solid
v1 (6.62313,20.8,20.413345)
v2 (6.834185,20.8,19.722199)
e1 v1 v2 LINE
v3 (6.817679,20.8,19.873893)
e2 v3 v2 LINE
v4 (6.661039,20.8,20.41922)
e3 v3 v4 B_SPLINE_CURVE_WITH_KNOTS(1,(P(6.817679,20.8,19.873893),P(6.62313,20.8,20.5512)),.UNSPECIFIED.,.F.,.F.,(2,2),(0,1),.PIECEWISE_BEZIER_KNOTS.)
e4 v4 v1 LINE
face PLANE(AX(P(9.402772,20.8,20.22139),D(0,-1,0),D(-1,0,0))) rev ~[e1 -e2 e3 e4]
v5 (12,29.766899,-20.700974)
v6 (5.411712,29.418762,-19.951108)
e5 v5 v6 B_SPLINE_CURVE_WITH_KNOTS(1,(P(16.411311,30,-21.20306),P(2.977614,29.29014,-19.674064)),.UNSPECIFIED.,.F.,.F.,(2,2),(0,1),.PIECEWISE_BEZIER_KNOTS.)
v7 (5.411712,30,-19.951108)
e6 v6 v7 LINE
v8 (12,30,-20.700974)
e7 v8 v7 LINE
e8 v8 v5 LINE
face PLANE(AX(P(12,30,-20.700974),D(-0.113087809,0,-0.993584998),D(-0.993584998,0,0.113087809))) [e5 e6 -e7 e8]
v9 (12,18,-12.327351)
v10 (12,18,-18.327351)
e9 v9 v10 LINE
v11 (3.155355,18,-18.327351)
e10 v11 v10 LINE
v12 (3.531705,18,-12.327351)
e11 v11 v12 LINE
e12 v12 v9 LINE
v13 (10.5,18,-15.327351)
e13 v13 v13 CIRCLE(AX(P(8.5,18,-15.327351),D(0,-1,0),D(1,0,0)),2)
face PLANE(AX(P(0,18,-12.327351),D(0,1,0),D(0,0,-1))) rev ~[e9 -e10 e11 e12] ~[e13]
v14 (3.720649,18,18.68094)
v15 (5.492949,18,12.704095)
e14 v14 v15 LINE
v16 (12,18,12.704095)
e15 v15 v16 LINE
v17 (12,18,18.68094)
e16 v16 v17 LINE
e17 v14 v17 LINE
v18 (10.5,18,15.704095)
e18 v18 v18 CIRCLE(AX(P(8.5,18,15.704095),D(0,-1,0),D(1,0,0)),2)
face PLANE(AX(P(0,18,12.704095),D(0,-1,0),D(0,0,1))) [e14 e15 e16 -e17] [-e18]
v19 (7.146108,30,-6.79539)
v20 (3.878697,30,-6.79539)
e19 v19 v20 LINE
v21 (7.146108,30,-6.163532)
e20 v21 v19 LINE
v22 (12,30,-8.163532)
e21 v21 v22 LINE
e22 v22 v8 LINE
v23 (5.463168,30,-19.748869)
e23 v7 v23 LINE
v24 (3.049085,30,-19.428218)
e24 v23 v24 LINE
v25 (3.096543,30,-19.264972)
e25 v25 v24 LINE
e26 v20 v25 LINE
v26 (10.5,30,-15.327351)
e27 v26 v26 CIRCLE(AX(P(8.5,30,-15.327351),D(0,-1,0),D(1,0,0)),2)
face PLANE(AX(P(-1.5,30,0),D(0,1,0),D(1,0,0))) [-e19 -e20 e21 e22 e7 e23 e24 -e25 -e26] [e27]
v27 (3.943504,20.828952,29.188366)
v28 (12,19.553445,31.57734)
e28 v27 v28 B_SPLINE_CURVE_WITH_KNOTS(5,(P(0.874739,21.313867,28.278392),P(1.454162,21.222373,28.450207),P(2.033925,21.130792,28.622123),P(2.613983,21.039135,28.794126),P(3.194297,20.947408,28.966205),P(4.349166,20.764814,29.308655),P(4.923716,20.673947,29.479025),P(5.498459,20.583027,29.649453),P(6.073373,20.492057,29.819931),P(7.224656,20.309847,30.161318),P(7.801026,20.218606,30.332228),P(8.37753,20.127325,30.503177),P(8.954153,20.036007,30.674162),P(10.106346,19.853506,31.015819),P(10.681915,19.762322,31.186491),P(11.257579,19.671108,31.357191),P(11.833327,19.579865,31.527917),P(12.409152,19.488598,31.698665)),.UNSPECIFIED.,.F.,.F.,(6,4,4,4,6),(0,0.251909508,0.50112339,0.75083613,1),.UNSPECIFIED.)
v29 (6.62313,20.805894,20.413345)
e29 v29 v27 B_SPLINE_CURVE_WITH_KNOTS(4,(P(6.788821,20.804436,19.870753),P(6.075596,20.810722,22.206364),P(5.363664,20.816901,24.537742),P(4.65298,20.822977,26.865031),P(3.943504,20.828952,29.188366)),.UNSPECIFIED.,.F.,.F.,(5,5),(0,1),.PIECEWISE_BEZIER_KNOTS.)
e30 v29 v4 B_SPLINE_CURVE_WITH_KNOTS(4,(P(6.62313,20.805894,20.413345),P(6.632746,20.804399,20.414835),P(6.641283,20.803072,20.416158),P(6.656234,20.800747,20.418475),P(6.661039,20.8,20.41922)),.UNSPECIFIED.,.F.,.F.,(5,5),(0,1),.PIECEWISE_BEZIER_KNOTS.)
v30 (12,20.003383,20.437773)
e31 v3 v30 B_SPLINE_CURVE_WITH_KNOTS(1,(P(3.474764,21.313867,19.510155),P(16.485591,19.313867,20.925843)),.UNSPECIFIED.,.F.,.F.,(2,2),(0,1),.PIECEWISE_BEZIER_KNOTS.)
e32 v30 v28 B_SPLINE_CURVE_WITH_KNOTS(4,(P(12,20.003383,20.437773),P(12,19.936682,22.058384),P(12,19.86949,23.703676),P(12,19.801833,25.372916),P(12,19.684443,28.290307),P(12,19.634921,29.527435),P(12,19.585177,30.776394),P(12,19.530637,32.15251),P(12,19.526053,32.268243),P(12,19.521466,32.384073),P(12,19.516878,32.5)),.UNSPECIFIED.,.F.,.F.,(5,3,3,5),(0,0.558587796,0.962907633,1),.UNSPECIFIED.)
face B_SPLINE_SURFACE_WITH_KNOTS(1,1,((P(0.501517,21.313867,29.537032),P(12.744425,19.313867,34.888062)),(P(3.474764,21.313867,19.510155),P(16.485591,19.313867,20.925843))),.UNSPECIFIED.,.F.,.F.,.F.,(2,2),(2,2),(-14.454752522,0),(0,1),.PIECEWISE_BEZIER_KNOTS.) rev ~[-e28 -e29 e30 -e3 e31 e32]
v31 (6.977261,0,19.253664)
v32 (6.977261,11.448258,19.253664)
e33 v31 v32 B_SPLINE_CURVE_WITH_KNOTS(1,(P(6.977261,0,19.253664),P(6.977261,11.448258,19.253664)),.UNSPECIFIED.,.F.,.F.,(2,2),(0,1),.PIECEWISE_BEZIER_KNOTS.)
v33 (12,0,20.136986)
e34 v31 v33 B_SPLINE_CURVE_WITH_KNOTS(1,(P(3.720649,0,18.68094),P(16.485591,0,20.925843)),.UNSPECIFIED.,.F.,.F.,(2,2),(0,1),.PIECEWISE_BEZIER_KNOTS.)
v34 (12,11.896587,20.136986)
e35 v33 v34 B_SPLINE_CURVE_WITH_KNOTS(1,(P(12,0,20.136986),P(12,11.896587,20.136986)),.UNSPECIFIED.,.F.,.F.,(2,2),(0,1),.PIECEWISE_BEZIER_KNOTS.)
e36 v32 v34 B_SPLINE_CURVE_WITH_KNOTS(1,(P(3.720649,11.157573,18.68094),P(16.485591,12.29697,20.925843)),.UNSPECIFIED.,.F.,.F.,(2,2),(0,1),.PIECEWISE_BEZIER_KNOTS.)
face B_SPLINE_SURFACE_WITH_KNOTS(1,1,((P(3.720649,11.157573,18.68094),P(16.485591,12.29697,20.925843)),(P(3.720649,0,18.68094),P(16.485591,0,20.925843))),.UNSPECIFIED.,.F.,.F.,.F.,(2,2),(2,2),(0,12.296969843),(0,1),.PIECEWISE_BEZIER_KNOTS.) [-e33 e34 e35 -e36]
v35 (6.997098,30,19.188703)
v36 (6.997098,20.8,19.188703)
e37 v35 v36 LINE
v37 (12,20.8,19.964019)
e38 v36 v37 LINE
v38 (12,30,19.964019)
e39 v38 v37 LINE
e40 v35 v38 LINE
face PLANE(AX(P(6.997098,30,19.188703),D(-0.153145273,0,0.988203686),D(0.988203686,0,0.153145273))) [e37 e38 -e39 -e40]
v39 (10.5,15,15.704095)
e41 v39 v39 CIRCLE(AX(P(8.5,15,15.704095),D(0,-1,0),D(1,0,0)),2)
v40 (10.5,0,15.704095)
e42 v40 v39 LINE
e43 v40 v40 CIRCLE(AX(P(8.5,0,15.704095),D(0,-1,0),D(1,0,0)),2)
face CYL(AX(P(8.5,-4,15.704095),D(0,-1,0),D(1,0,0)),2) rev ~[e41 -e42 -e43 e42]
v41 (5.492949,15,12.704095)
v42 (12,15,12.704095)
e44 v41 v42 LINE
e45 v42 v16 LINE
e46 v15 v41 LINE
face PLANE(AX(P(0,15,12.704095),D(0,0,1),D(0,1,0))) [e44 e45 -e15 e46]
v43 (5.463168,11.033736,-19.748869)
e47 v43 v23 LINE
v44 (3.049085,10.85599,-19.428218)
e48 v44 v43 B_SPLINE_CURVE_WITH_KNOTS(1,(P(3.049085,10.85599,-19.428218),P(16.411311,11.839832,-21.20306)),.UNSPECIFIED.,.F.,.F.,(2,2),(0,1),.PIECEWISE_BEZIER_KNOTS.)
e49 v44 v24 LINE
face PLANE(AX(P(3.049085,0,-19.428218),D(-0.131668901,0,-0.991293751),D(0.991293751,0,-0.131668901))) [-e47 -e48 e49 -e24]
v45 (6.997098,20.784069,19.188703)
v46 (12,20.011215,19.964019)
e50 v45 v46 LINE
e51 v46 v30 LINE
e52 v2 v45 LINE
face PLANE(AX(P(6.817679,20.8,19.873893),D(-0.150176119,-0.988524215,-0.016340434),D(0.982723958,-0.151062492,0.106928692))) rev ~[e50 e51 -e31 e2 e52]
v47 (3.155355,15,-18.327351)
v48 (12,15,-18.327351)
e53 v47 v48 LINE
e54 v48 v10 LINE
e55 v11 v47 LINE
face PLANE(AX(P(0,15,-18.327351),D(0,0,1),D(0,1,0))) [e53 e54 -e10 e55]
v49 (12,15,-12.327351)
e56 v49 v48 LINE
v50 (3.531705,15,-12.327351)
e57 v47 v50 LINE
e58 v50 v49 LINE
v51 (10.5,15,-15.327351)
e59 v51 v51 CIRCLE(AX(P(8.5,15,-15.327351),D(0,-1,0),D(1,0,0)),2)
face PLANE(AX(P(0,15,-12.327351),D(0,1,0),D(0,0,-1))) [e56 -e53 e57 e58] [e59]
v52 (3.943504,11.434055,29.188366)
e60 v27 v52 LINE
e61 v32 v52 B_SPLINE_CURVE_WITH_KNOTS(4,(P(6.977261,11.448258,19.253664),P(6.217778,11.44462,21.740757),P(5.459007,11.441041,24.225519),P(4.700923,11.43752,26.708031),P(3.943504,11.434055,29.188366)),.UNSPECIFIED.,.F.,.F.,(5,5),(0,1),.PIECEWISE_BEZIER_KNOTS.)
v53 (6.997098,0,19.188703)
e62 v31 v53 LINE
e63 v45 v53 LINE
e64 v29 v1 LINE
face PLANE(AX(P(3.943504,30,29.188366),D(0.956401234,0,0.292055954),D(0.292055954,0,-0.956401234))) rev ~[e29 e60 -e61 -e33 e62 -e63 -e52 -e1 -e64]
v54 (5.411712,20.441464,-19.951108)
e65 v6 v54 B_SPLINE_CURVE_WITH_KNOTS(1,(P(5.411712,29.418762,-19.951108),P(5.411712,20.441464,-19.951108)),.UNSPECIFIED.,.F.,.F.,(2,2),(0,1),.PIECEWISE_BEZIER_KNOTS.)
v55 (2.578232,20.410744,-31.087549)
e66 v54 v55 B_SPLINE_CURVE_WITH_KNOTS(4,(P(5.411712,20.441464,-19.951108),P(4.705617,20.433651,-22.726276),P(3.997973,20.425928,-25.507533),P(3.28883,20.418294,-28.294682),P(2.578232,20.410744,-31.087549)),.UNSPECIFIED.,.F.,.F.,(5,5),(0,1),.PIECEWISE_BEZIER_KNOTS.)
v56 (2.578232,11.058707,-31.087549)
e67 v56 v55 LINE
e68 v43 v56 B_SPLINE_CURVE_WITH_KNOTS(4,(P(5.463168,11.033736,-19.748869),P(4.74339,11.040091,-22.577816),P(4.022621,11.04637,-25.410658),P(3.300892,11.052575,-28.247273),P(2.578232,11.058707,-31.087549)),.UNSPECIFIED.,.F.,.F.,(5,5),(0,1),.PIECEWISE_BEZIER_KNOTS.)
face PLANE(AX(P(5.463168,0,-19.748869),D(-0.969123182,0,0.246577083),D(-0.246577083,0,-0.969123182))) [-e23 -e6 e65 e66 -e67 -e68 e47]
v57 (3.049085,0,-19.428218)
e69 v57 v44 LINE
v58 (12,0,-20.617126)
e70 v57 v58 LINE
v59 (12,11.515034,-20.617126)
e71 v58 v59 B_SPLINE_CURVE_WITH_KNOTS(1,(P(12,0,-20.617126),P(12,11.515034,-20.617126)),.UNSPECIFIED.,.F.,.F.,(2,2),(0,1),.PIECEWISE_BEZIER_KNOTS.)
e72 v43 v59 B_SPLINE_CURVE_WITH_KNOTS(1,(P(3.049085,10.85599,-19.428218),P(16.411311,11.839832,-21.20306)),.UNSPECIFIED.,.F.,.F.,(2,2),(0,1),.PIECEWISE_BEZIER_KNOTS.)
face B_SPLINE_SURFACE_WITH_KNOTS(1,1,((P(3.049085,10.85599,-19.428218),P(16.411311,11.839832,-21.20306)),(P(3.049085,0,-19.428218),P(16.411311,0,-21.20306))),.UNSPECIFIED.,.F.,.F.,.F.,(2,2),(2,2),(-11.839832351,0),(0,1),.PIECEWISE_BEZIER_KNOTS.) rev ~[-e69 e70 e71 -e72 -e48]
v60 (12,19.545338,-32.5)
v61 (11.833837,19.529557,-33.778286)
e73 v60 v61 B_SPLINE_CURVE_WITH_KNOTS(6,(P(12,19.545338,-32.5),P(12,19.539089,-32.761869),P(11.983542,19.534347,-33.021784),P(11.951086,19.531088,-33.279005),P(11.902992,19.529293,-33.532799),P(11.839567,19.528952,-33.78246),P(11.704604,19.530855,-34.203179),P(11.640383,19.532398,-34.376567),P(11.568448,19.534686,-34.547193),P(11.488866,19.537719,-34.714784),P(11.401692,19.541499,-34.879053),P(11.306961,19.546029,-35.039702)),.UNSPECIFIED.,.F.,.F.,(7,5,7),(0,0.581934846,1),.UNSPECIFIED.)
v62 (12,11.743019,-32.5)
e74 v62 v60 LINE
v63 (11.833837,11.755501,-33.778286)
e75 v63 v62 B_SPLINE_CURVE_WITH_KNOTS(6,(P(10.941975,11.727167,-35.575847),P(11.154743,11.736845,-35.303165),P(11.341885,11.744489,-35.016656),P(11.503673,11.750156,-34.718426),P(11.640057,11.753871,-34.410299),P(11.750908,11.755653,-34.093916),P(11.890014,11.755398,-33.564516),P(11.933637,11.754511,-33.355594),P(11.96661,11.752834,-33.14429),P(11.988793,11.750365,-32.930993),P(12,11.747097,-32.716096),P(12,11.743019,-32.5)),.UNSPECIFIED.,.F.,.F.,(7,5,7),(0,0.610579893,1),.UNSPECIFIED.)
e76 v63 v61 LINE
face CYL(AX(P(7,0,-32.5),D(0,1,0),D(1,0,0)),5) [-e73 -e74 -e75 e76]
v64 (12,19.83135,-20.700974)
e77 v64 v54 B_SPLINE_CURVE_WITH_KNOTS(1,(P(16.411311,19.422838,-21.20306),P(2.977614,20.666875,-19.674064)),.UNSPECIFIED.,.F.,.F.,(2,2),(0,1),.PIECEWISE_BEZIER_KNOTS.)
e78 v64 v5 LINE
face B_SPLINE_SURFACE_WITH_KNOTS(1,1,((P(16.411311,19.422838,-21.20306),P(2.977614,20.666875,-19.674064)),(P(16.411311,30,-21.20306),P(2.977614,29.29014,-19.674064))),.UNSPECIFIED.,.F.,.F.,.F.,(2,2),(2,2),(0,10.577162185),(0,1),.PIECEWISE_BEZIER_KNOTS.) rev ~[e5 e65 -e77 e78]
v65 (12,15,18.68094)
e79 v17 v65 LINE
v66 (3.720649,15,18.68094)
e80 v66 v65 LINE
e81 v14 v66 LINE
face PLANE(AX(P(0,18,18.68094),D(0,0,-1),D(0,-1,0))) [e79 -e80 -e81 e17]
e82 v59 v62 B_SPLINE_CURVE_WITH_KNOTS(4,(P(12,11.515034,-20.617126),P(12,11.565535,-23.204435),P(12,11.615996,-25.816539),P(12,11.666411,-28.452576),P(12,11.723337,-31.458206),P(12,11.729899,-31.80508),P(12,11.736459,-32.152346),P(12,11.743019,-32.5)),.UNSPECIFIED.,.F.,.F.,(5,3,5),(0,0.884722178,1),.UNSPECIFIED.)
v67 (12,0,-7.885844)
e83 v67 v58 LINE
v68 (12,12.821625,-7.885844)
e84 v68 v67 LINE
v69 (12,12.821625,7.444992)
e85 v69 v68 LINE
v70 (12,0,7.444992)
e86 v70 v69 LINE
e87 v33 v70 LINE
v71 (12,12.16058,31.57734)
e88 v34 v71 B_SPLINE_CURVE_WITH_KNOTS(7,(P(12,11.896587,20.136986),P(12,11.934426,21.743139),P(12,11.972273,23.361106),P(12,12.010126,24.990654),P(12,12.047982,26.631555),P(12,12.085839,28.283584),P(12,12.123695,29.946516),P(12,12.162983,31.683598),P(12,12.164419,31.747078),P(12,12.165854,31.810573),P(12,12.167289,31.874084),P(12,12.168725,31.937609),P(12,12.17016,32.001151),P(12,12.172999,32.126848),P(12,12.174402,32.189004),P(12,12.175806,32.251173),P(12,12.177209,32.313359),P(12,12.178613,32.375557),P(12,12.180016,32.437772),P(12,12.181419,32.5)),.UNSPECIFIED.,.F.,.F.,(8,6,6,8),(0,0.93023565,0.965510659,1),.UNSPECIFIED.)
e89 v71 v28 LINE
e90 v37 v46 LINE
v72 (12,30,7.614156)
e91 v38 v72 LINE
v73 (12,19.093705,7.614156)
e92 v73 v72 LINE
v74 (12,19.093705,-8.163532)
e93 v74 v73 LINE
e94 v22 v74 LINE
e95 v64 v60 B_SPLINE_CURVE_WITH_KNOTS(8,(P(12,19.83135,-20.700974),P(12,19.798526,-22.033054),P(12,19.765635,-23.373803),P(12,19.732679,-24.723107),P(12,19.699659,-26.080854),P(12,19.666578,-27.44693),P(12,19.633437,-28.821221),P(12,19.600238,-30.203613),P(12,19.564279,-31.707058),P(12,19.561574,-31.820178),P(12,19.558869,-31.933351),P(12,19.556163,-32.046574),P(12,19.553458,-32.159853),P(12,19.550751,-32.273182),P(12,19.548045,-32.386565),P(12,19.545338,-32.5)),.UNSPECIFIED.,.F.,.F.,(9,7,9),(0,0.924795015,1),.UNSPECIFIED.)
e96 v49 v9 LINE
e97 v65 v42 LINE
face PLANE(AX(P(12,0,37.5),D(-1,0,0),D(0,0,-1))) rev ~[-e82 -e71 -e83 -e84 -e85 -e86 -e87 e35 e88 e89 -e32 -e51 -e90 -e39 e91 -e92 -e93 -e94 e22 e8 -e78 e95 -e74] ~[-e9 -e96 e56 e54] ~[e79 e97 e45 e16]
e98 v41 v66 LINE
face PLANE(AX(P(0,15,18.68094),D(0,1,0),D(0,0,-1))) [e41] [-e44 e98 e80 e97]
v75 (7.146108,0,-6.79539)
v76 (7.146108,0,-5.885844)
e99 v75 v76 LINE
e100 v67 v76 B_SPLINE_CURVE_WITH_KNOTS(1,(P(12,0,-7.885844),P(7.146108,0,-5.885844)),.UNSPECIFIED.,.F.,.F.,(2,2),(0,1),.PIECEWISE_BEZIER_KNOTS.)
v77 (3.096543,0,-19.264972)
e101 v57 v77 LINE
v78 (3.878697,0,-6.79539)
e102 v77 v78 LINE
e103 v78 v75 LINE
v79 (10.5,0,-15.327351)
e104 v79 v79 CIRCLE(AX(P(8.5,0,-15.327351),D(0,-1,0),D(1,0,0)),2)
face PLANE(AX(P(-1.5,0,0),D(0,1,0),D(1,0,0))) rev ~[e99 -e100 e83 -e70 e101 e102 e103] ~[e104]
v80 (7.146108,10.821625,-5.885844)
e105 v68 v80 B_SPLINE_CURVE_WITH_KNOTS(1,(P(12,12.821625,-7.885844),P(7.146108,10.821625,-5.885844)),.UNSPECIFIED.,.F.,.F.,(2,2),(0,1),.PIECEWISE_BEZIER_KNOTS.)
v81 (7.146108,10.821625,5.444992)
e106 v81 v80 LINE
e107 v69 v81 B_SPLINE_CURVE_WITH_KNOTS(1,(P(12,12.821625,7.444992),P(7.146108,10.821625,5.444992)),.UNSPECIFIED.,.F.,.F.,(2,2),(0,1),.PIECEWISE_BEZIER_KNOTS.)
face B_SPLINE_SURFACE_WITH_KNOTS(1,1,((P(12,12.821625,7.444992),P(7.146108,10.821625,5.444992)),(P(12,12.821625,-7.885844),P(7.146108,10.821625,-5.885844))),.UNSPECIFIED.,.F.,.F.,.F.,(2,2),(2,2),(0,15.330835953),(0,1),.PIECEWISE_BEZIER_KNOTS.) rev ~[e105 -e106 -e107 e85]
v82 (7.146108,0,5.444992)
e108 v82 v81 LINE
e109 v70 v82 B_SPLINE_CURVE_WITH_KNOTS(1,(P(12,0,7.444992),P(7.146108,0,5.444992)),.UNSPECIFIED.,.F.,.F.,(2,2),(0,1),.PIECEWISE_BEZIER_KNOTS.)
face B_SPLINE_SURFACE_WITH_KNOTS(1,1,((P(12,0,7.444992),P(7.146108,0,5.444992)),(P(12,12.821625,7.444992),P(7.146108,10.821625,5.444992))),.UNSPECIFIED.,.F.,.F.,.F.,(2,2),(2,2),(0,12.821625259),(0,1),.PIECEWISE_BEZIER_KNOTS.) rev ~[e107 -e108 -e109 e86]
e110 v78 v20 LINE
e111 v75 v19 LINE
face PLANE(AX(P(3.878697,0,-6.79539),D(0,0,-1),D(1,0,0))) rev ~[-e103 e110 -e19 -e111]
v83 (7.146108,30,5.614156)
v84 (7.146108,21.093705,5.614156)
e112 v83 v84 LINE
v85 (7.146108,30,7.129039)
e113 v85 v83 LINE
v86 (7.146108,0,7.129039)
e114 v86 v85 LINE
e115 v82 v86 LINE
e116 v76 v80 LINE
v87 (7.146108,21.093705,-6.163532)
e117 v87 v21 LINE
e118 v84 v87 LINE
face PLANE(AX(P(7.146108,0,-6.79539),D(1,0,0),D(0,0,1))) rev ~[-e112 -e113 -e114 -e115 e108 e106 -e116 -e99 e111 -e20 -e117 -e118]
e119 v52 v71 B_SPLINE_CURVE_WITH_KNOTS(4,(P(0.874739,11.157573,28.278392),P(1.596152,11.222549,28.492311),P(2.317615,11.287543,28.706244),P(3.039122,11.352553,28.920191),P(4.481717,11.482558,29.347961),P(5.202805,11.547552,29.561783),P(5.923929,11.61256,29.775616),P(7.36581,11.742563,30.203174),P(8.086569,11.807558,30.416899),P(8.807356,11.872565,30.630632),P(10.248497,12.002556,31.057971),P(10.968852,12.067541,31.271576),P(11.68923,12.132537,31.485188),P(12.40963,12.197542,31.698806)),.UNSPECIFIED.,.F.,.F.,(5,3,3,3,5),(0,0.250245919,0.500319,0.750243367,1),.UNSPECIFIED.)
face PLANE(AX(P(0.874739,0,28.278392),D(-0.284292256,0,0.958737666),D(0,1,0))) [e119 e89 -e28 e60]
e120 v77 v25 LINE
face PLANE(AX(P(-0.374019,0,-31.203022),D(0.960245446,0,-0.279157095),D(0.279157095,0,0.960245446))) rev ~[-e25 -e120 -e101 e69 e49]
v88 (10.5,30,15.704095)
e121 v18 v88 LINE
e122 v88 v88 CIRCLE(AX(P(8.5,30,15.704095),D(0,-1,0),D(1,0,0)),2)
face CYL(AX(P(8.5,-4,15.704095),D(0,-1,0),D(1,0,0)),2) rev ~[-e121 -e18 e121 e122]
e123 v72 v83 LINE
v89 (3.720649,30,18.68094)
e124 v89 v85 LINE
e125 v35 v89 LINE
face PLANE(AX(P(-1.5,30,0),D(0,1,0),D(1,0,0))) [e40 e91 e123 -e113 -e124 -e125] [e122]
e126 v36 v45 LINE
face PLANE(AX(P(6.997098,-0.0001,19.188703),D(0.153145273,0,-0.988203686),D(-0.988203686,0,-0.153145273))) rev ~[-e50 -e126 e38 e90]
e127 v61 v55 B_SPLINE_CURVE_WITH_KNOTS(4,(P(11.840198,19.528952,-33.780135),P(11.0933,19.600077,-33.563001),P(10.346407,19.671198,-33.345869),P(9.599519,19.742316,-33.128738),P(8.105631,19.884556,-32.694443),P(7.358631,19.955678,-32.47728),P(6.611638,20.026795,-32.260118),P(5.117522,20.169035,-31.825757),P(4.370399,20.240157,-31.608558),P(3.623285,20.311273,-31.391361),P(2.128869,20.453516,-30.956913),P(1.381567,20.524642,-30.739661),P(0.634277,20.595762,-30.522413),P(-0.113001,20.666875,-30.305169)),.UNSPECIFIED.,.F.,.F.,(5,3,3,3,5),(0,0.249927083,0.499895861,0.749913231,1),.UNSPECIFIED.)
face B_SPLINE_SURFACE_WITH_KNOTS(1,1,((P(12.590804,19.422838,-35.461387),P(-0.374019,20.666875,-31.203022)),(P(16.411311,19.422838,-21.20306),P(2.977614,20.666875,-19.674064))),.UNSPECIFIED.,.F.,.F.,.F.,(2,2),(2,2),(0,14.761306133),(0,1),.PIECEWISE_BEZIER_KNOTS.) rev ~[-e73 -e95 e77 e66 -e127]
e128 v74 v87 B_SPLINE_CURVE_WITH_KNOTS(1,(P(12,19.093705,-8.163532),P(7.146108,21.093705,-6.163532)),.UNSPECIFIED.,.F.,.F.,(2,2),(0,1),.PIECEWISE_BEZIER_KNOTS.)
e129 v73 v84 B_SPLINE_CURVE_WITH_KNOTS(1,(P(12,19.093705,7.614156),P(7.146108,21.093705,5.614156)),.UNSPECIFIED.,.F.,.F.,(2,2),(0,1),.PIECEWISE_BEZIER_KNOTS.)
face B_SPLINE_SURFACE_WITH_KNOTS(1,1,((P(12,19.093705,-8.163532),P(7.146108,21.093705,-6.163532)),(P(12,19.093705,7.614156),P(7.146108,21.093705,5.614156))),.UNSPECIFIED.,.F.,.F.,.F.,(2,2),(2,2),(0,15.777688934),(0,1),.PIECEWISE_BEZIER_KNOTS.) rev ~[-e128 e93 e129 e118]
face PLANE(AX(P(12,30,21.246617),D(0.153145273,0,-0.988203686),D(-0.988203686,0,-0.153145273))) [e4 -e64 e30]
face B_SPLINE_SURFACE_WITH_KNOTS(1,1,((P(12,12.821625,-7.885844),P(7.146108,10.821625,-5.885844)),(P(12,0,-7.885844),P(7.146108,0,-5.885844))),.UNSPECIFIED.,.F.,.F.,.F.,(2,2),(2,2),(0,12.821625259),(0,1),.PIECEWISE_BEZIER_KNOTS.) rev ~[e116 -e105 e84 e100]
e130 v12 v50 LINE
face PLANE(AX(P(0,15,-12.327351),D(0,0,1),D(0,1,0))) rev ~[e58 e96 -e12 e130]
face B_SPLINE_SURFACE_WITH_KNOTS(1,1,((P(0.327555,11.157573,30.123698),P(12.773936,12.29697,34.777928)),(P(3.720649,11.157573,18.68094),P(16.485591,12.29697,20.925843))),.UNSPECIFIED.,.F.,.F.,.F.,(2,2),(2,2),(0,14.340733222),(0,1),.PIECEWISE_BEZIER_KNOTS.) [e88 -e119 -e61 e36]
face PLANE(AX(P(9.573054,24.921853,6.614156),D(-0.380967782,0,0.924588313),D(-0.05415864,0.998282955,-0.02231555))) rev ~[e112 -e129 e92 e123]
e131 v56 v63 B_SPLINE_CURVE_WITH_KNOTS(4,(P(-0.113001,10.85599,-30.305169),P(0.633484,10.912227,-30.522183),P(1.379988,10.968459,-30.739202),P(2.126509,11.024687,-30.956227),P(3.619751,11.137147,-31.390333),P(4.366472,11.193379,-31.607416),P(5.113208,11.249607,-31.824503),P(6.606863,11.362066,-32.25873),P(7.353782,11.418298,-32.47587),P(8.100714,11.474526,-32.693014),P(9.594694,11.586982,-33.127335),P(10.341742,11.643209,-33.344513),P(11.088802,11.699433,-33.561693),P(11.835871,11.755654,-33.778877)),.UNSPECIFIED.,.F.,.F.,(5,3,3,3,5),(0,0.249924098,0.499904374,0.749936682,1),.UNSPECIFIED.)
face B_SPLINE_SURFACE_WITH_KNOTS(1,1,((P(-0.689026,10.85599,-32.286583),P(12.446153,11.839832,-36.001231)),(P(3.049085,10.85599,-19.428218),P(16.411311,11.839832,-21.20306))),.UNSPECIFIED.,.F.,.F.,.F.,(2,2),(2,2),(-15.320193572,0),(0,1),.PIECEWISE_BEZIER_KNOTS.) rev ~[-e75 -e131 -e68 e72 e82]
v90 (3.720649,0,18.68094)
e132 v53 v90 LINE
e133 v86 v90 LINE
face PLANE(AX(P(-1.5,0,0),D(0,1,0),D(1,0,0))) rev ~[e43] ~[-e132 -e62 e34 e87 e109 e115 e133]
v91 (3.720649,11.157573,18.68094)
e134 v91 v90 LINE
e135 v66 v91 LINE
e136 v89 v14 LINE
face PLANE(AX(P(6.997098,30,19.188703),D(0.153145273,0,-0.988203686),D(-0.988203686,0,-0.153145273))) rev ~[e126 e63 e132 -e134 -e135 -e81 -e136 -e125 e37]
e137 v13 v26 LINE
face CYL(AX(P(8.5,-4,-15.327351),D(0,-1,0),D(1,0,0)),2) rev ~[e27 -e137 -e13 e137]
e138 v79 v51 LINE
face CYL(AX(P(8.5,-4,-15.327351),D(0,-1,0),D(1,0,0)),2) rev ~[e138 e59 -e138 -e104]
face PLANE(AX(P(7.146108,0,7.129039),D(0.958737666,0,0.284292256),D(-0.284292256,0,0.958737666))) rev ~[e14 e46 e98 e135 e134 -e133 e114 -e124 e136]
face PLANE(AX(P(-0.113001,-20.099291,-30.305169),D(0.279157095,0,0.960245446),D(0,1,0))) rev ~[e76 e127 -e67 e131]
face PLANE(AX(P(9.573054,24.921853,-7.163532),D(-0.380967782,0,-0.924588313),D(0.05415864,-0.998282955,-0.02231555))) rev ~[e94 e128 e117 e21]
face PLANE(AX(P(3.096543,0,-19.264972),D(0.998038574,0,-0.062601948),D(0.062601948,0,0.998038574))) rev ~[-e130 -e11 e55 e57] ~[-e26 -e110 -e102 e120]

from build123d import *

# Parameters (mm, degrees)
SKETCH_2_W               = 27
SKETCH_2_H               = 75
EXTRUDE_1_DEPTH          = 30
FILLET_1_R               = 5
CUT_EXTRUDE_1_DEPTH      = 10
CUT_EXTRUDE_1_DEPTH_BACK = 62.976777909
SKETCH_3_W               = 12.003584996
SKETCH_3_H               = 8.623265084
SKETCH_3_W_2             = 13.38824361
SKETCH_3_H_2             = 10.855989936
CUT_EXTRUDE_2_DEPTH      = 56.093103017
CUT_EXTRUDE_2_DEPTH_BACK = 56.093103017
SKETCH_4_W               = 11.777688934
SKETCH_4_H               = 8.406294685
SKETCH_4_W_2             = 11.330835953
SKETCH_4_H_2             = 19.308390714
CUT_EXTRUDE_3_DEPTH      = 10
CUT_EXTRUDE_3_DEPTH_BACK = 62.976777909
SKETCH_5_W               = 10.454752522
SKETCH_5_H               = 7.917134022
SKETCH_5_W_2             = 10.247562273
SKETCH_5_H_2             = 14.675567582
CUT_EXTRUDE_4_DEPTH      = 51.311529494
CUT_EXTRUDE_5_DEPTH      = 1
CUT_EXTRUDE_6_DEPTH      = 56.093103188
CUT_EXTRUDE_6_DEPTH_BACK = 56.093103188
CUT_EXTRUDE_7_DEPTH      = 56.093103188
CUT_EXTRUDE_7_DEPTH_BACK = 56.093103188
SKETCH_28_R              = 2
CUT_EXTRUDE_8_DEPTH      = 53.794412747
CUT_EXTRUDE_9_DEPTH      = 51.311529658
SKETCH_30_W              = 10.059160286
SKETCH_30_H              = 37.902915959
SKETCH_30_W_2            = 15.489849721
SKETCH_30_H_2            = 38.902668553
CUT_EXTRUDE_10_DEPTH     = 51.038113138
SKETCH_31_W              = 8.737975265
SKETCH_31_H              = 34.755902135
SKETCH_31_W_2            = 10.96580713
CUT_EXTRUDE_11_DEPTH     = 49.583503796
CUT_EXTRUDE_12_DEPTH     = 50.524399755
CUT_EXTRUDE_13_DEPTH     = 48.916784232
SKETCH_35_W              = 30.266892165
SKETCH_35_H              = 64.418514712
CUT_EXTRUDE_14_DEPTH     = 49.293556396
SKETCH_36_W              = 14.582556354
SKETCH_36_H              = 32.207236855
CUT_EXTRUDE_15_DEPTH     = 49.026638847
CUT_EXTRUDE_16_DEPTH     = 47.743690696
CUT_EXTRUDE_17_DEPTH     = 47.743690696
CUT_EXTRUDE_19_DEPTH     = 9.2
CUT_EXTRUDE_20_REACH     = 64.237
CUT_EXTRUDE_21_REACH     = 48.744
SKETCH_41_W              = 6
SKETCH_41_H              = 3


with BuildPart() as part:
    # 草图2 → 凸台-拉伸1 (new body)
    with BuildSketch(Plane(origin=(0, 0, 0), x_dir=(1, 0, 0), z_dir=(0, 1, 0))):
        with Locations((-1.5, 0)):
            Rectangle(SKETCH_2_W, SKETCH_2_H)
    extrude(amount=EXTRUDE_1_DEPTH)

    # 圆角1
    fillet_1_edges = [part.edges().sort_by_distance(p)[0] for p in [
        (12, 15, -37.5),
        (12, 15, 37.5),
    ]]
    fillet(fillet_1_edges, radius=FILLET_1_R)

    # 草图3 → 切除-拉伸1 (cut, two sides: drawn at the far end of the back side and taken through both)
    with BuildSketch(Plane(origin=(18.680874692, 0, -5.005525288), x_dir=(-0.2588190451025125, 0, -0.9659258262890705), z_dir=(0.9659258262890705, 0, -0.2588190451025125)).offset(-CUT_EXTRUDE_1_DEPTH_BACK)):
        with Locations((24.234815862, 24.978507534)):
            Rectangle(SKETCH_3_W, SKETCH_3_H)
        with Locations((24.671178169, 5.427994968)):
            Rectangle(SKETCH_3_W_2, SKETCH_3_H_2)
    extrude(amount=CUT_EXTRUDE_1_DEPTH + CUT_EXTRUDE_1_DEPTH_BACK, mode=Mode.SUBTRACT)

    # 草图4 → 切除-拉伸2 (cut, two sides: drawn at the far end of the back side and taken through both)
    with BuildSketch(Plane(origin=(12, 0, 0), x_dir=(0, 0, -1), z_dir=(1, 0, 0)).offset(-CUT_EXTRUDE_2_DEPTH_BACK)):
        with Locations((0.274688021, 25.296852658)):
            Rectangle(SKETCH_4_W, SKETCH_4_H)
        with Locations((0.220425577, 1.167429902)):
            Rectangle(SKETCH_4_W_2, SKETCH_4_H_2)
    extrude(amount=CUT_EXTRUDE_2_DEPTH + CUT_EXTRUDE_2_DEPTH_BACK, mode=Mode.SUBTRACT)

    # 草图5 → 切除-拉伸3 (cut, two sides: drawn at the far end of the back side and taken through both)
    with BuildSketch(Plane(origin=(18.680874692, 0, 5.005525288), x_dir=(0.25881904510251236, 0, -0.9659258262890705), z_dir=(0.9659258262890706, 0, 0.25881904510251236)).offset(-CUT_EXTRUDE_3_DEPTH_BACK)):
        with Locations((-23.173403852, 25.272433697)):
            Rectangle(SKETCH_5_W, SKETCH_5_H)
        with Locations((-23.069808728, 2.959186052)):
            Rectangle(SKETCH_5_W_2, SKETCH_5_H_2)
    extrude(amount=CUT_EXTRUDE_3_DEPTH + CUT_EXTRUDE_3_DEPTH_BACK, mode=Mode.SUBTRACT)

    # 草图6 → 切除-拉伸4 (cut, through all)
    with BuildSketch(Plane.XZ):
        Polygon((7.146107594, 7.129038799), (3.725036618, 18.666143782), (-0.059848724, 31.430164127), (-15, 28.234595706), (-15, -49.974737356), (-6.027187149, -52.37103324), (-0.374019248, -31.203022256), (3.096542815, -19.264972049), (3.878697096, -6.795389704), (7.146107594, -6.795389704), align=None)
    extrude(amount=-CUT_EXTRUDE_4_DEPTH, mode=Mode.SUBTRACT)

    # 草图9 → 切除-放样2 section 0
    with BuildSketch(Plane(origin=(20.612726345, 0, -5.523163378), x_dir=(-0.2588190451025125, 0, -0.9659258262890705), z_dir=(0.9659258262890705, 0, -0.2588190451025125))):
        with BuildLine():
            Line((30.994329497, 19.422837815), (16.233023364, 19.422837815))
            Line((16.233023364, 19.422837815), (16.233023364, 30))
            Line((16.233023364, 30), (30.994329497, 30))
            Line((30.994329497, 30), (30.994329497, 19.422837815))
        make_face()
    # 草图8 → 切除-放样2 section 1
    with BuildSketch(Plane(origin=(8.019388794, 0, -2.331351103), x_dir=(-0.27915709503779457, 0, -0.9602454458574953), z_dir=(0.9602454458574953, 0, -0.27915709503779457))):
        with BuildLine():
            Line((30.066970145, 29.290140076), (18.060708335, 29.290140076))
            Line((18.060708335, 29.290140076), (18.060708335, 20.666874992))
            Line((18.060708335, 20.666874992), (30.066970145, 20.666874992))
            Line((30.066970145, 20.666874992), (30.066970145, 29.290140076))
        make_face()
    loft(mode=Mode.SUBTRACT)

    # 草图12 → 切除-放样4 section 0
    with BuildSketch(Plane(origin=(8.019388794, 0, -2.331351103), x_dir=(-0.27915709503779457, 0, -0.9602454458574953), z_dir=(0.9602454458574953, 0, -0.27915709503779457))):
        with BuildLine():
            Line((31.19539038, 0), (31.19539038, 10.855989936))
            Line((31.19539038, 10.855989936), (30.066970145, 10.855989936))
            Line((30.066970145, 10.855989936), (17.804684254, 10.855989936))
            Line((17.804684254, 10.855989936), (17.804684254, 0))
            Line((17.804684254, 0), (31.19539038, 0))
        make_face()
    # 草图11 → 切除-放样4 section 1
    with BuildSketch(Plane(origin=(20.612726345, 0, -5.523163378), x_dir=(-0.2588190451025125, 0, -0.9659258262890705), z_dir=(0.9659258262890705, 0, -0.2588190451025125))):
        with BuildLine():
            Line((16.233023364, 11.839832351), (31.553216936, 11.839832351))
            Line((31.553216936, 11.839832351), (31.553216936, 0))
            Line((31.553216936, 0), (16.233023364, 0))
            Line((16.233023364, 0), (16.233023364, 11.839832351))
        make_face()
    loft(mode=Mode.SUBTRACT)

    # 草图16 → 切除-放样5 section 0
    with BuildSketch(Plane(origin=(12, 0, 0), x_dir=(0, 0, -1), z_dir=(1, 0, 0))):
        with BuildLine():
            Line((-7.444992399, 12.821625259), (7.885843554, 12.821625259))
            Line((7.885843554, 12.821625259), (7.885843554, 0))
            Line((7.885843554, 0), (-7.444992399, 0))
            Line((-7.444992399, 0), (-7.444992399, 12.821625259))
        make_face()
    # 草图15 → 切除-放样5 section 1
    with BuildSketch(Plane.ZY.offset(-7.146107594)):
        with BuildLine():
            Line((5.444992399, 0), (5.444992399, 10.821625259))
            Line((5.444992399, 10.821625259), (-5.885843554, 10.821625259))
            Line((-5.885843554, 10.821625259), (-5.885843554, 0))
            Line((-5.885843554, 0), (5.444992399, 0))
        make_face()
    loft(mode=Mode.SUBTRACT)

    # 草图18 → 切除-放样6 section 0
    with BuildSketch(Plane(origin=(12, 0, 0), x_dir=(0, 0, -1), z_dir=(1, 0, 0))):
        with BuildLine():
            Line((8.163532488, 19.093705315), (-7.614156446, 19.093705315))
            Line((-7.614156446, 19.093705315), (-7.614156446, 30))
            Line((-7.614156446, 30), (8.163532488, 30))
            Line((8.163532488, 30), (8.163532488, 19.093705315))
        make_face()
    # 草图17 → 切除-放样6 section 1
    with BuildSketch(Plane.ZY.offset(-7.146107594)):
        with BuildLine():
            Line((5.614156446, 29.5), (-6.163532488, 29.5))
            Line((-6.163532488, 29.5), (-6.163532488, 21.093705315))
            Line((-6.163532488, 21.093705315), (5.614156446, 21.093705315))
            Line((5.614156446, 21.093705315), (5.614156446, 29.5))
        make_face()
    loft(mode=Mode.SUBTRACT)

    # 草图20 → 切除-放样7 section 0
    with BuildSketch(Plane(origin=(8.511647159, 0, 2.523938986), x_dir=(-0.28429225609974595, 0, 0.9587376664769757), z_dir=(-0.9587376664769756, 0, -0.2842922560997459))):
        with BuildLine():
            Line((28.175687949, 29.231000708), (28.175687949, 21.313866686))
            Line((28.175687949, 21.313866686), (17.717272084, 21.313866686))
            Line((17.717272084, 21.313866686), (17.717272084, 29.231000708))
            Line((17.717272084, 29.231000708), (28.175687949, 29.231000708))
        make_face()
    # 草图19 → 切除-放样7 section 1
    with BuildSketch(Plane(origin=(20.612726345, 0, 5.523163378), x_dir=(0.25881904510251236, 0, -0.9659258262890705), z_dir=(0.9659258262890706, 0, 0.25881904510251236))):
        with BuildLine():
            Line((-30.400780113, 30), (-15.946027591, 30))
            Line((-15.946027591, 30), (-15.946027591, 19.313866686))
            Line((-15.946027591, 19.313866686), (-30.400780113, 19.313866686))
            Line((-30.400780113, 19.313866686), (-30.400780113, 30))
        make_face()
    loft(mode=Mode.SUBTRACT)

    # 草图23 → 切除-放样8 section 0
    with BuildSketch(Plane(origin=(8.511647159, 0, 2.523938986), x_dir=(-0.28429225609974595, 0, 0.9587376664769757), z_dir=(-0.9587376664769756, 0, -0.2842922560997459))):
        with BuildLine():
            Line((16.852369456, 0), (28.787602444, 0))
            Line((28.787602444, 0), (28.787602444, 11.157572741))
            Line((28.787602444, 11.157572741), (16.852369456, 11.157572741))
            Line((16.852369456, 11.157572741), (16.852369456, 0))
        make_face()
    # 草图21 → 切除-放样8 section 1
    with BuildSketch(Plane(origin=(20.612726345, 0, 5.523163378), x_dir=(0.25881904510251236, 0, -0.9659258262890705), z_dir=(0.9659258262890706, 0, 0.25881904510251236))):
        with BuildLine():
            Line((-30.286760813, 12.296969843), (-15.946027591, 12.296969843))
            Line((-15.946027591, 12.296969843), (-15.946027591, 0))
            Line((-15.946027591, 0), (-30.286760813, 0))
            Line((-30.286760813, 0), (-30.286760813, 12.296969843))
        make_face()
    loft(mode=Mode.SUBTRACT)

    # 草图25 → 切除-拉伸5 (cut)
    with BuildSketch(Plane(origin=(0, 30, 0), x_dir=(1, 0, 0), z_dir=(0, 1, 0))):
        with BuildLine():
            Line((0.501517264, -29.537032302), (11.625363064, -34.398951428))
            ThreePointArc((11.625363064, -34.398951428), (11.905446734, -33.46777701), (12, -32.5))
            Line((12, -32.5), (12, -20.437772986))
            Line((12, -20.437772986), (3.474763906, -19.51015508))
            Line((3.474763906, -19.51015508), (0.501517264, -29.537032302))
        make_face()
        with BuildLine():
            Line((12, 20.700973532), (2.977613921, 19.674064031))
            Line((2.977613921, 19.674064031), (-0.374019248, 31.203022256))
            Line((-0.374019248, 31.203022256), (11.306961147, 35.039701887))
            ThreePointArc((11.306961147, 35.039701887), (11.823629636, 33.816281555), (12, 32.5))
            Line((12, 32.5), (12, 20.700973532))
        make_face()
        Polygon((7.146107594, 6.163532488), (12, 8.163532488), (12, -7.614156446), (7.146107594, -5.614156446), align=None)
    extrude(amount=-CUT_EXTRUDE_5_DEPTH, mode=Mode.SUBTRACT)

    # 草图26 → 切除-拉伸6 (cut, two sides: drawn at the far end of the back side and taken through both)
    with BuildSketch(Plane(origin=(12, 0, 0), x_dir=(0, 0, -1), z_dir=(1, 0, 0)).offset(-CUT_EXTRUDE_6_DEPTH_BACK)):
        with BuildLine():
            Line((-37.5, 3.256499349), (-43.423283477, 4.717056112))
            Line((-43.423283477, 4.717056112), (-37.5, 28.189374855))
            ThreePointArc((-37.5, 28.189374855), (-35.985697907, 15.722937102), (-37.5, 3.256499349))
        make_face()
    extrude(amount=CUT_EXTRUDE_6_DEPTH + CUT_EXTRUDE_6_DEPTH_BACK, mode=Mode.SUBTRACT)

    # 草图27 → 切除-拉伸7 (cut, two sides: drawn at the far end of the back side and taken through both)
    with BuildSketch(Plane(origin=(12, 0, 0), x_dir=(0, 0, -1), z_dir=(1, 0, 0)).offset(-CUT_EXTRUDE_7_DEPTH_BACK)):
        with BuildLine():
            Line((37.5, 4.153795449), (43.060589444, 13.210819797))
            Line((43.060589444, 13.210819797), (37.5, 25.846204551))
            ThreePointArc((37.5, 25.846204551), (35.824484835, 15), (37.5, 4.153795449))
        make_face()
    extrude(amount=CUT_EXTRUDE_7_DEPTH + CUT_EXTRUDE_7_DEPTH_BACK, mode=Mode.SUBTRACT)

    # 草图28 → 切除-拉伸8 (cut, through all)
    with BuildSketch(Plane.XZ.offset(4)):
        with Locations((-10.5, 33.410449294)):
            Circle(SKETCH_28_R)
        with Locations((8.5, 15.704094532)):
            Circle(SKETCH_28_R)
        with Locations((8.5, -15.327351188)):
            Circle(SKETCH_28_R)
    extrude(amount=-CUT_EXTRUDE_8_DEPTH, mode=Mode.SUBTRACT)

    # 草图29 → 切除-拉伸9 (cut, through all)
    with BuildSketch(Plane(origin=(0, 30, 0), x_dir=(1, 0, 0), z_dir=(0, 1, 0))):
        Polygon((-0.059848724, -31.430164127), (-2.314184215, -39.032609504), (-18.769782414, -40.942420712), (-19.653149801, -21.861685155), align=None)
    extrude(amount=-CUT_EXTRUDE_9_DEPTH, mode=Mode.SUBTRACT)

    # 草图30 → 切除-拉伸10 (cut, through all)
    with BuildSketch(Plane(origin=(12, 0, 0), x_dir=(0, 0, -1), z_dir=(1, 0, 0))):
        with Locations((-40.437824351, 17.746407142)):
            Rectangle(SKETCH_30_W, SKETCH_30_H)
        with Locations((43.465090291, 13.206278768)):
            Rectangle(SKETCH_30_W_2, SKETCH_30_H_2)
    extrude(amount=-CUT_EXTRUDE_10_DEPTH, mode=Mode.SUBTRACT)

    # 草图31 → 切除-拉伸11 (cut, through all)
    with BuildSketch(Plane(origin=(12, 0, 0), x_dir=(0, 0, -1), z_dir=(1, 0, 0))):
        with Locations((-38.655263386, 17.377951067)):
            Rectangle(SKETCH_31_W, SKETCH_31_H)
        with Locations((41.058750353, 17.377951067)):
            Rectangle(SKETCH_31_W_2, SKETCH_31_H)
    extrude(amount=-CUT_EXTRUDE_11_DEPTH, mode=Mode.SUBTRACT)

    # 草图32 → 切除-拉伸12 (cut, through all)
    with BuildSketch(Plane(origin=(8.511647159, 0, 2.523938986), x_dir=(-0.28429225609974595, 0, 0.9587376664769757), z_dir=(-0.9587376664769756, 0, -0.2842922560997459))):
        with BuildLine():
            Line((33.129330241, 28), (45.117943931, 24.625279412))
            Line((45.117943931, 24.625279412), (33.129330241, 2))
            ThreePointArc((33.129330241, 2), (29.425195526, 15), (33.129330241, 28))
        make_face()
    extrude(amount=-CUT_EXTRUDE_12_DEPTH, mode=Mode.SUBTRACT)

    # 草图33 → 切除-拉伸13 (cut, through all)
    with BuildSketch(Plane(origin=(7.429248175, 0, -1.984068666), x_dir=(0.25801907586145423, 0, 0.966139822433379), z_dir=(-0.966139822433379, 0, 0.25801907586145423))):
        with BuildLine():
            Line((-34.769064831, 27), (-43.42515103, 23.964002922))
            Line((-43.42515103, 23.964002922), (-34.769064831, 3))
            ThreePointArc((-34.769064831, 3), (-31.367076602, 15), (-34.769064831, 27))
        make_face()
    extrude(amount=-CUT_EXTRUDE_13_DEPTH, mode=Mode.SUBTRACT)

    # 草图35 → 切除-拉伸14 (cut, through all)
    with BuildSketch(Plane(origin=(8.019388794, 0, -2.331351103), x_dir=(0.2791570950377951, 0, 0.960245445857495), z_dir=(-0.9602454458574952, 0, 0.2791570950377951))):
        with Locations((-44.26539168, 12.1099661)):
            Rectangle(SKETCH_35_W, SKETCH_35_H)
    extrude(amount=-CUT_EXTRUDE_14_DEPTH, mode=Mode.SUBTRACT)

    # 草图36 → 切除-拉伸15 (cut, through all)
    with BuildSketch(Plane(origin=(8.511647159, 0, 2.523938986), x_dir=(-0.28429225609974595, 0, 0.9587376664769757), z_dir=(-0.9587376664769756, 0, -0.2842922560997459))):
        with Locations((34.154155961, 16.103618428)):
            Rectangle(SKETCH_36_W, SKETCH_36_H)
    extrude(amount=-CUT_EXTRUDE_15_DEPTH, mode=Mode.SUBTRACT)

    # 草图37 → 切除-拉伸16 (cut, through all)
    with BuildSketch(Plane.XZ):
        Polygon((3.04908486, -19.428218073), (5.463167808, -19.748869392), (2.578231647, -31.0875489), (0.855497841, -35.943044952), (-10.048623229, -28.744086493), align=None)
    extrude(amount=-CUT_EXTRUDE_16_DEPTH, mode=Mode.SUBTRACT)

    # 草图38 → 切除-拉伸17 (cut, through all)
    with BuildSketch(Plane(origin=(0, 30, 0), x_dir=(1, 0, 0), z_dir=(0, 1, 0))):
        Polygon((3.943504332, -29.188365604), (6.997098327, -19.188702801), (3.720649026, -18.680940353), (-14.795599346, -29.188365604), align=None)
    extrude(amount=-CUT_EXTRUDE_17_DEPTH, mode=Mode.SUBTRACT)

    # 草图39 → 切除-拉伸19 (cut)
    with BuildSketch(Plane(origin=(0, 30, 0), x_dir=(1, 0, 0), z_dir=(0, 1, 0))):
        Polygon((6.997098327, -19.188702801), (12, -19.964019423), (12, -21.24661692), (6.623129677, -20.413345109), align=None)
    extrude(amount=-CUT_EXTRUDE_19_DEPTH, mode=Mode.SUBTRACT)

    # 切除-拉伸20: up to this plane
    cut_extrude_20_end = Plane(origin=(6.997098327, -0.0001, 19.188702801), z_dir=(0.15314527326355704, 0, -0.9882036861280322))
    # 草图40 → 切除-拉伸20 (cut, up to the surface)
    with BuildSketch(Plane(origin=(-2.057373604, 0, 18.908211655), x_dir=(0.9941324082517923, 0, 0.10817002756536495), z_dir=(-0.10817002756536495, 0, 0.9941324082517923)), mode=Mode.PRIVATE) as cut_extrude_20_sk1:
        Polygon((14.140343366, 20.8), (8.927435283, 20.8), (14.140343366, 20.003383314), align=None)
    cut_extrude_20_tool1 = split(extrude(cut_extrude_20_sk1.sketch, amount=-CUT_EXTRUDE_20_REACH, mode=Mode.PRIVATE), bisect_by=cut_extrude_20_end, keep=Keep.BOTH, mode=Mode.PRIVATE)
    add(cut_extrude_20_tool1.solids().sort_by_distance((10.27256, 20.534461, 20.249813))[0], mode=Mode.SUBTRACT)

    # 切除-拉伸21: up to this face of the body (flat: up to its plane)
    cut_extrude_21_end = Plane(part.part.faces().sort_by_distance((12, 15.17379026, -0.488369359))[0])
    # 草图41 → 切除-拉伸21 (cut, up to the picked face)
    with BuildSketch(Plane(origin=(0, 0, 0), x_dir=(0, 0, -1), z_dir=(1, 0, 0)), mode=Mode.PRIVATE) as cut_extrude_21_sk1:
        Polygon((-13.704094532, 15), (-12.704094532, 15), (-12.704094532, 18), (-18.680940353, 18), (-18.680940353, 15), align=None)
    cut_extrude_21_tool1 = split(extrude(cut_extrude_21_sk1.sketch, amount=CUT_EXTRUDE_21_REACH, mode=Mode.PRIVATE), bisect_by=cut_extrude_21_end, keep=Keep.BOTH, mode=Mode.PRIVATE)
    # 草图41 → 切除-拉伸21 (cut, up to the picked face)
    with BuildSketch(Plane(origin=(0, 0, 0), x_dir=(0, 0, -1), z_dir=(1, 0, 0)), mode=Mode.PRIVATE) as cut_extrude_21_sk2:
        with Locations((15.327351188, 16.5)):
            Rectangle(SKETCH_41_W, SKETCH_41_H)
    cut_extrude_21_tool2 = split(extrude(cut_extrude_21_sk2.sketch, amount=CUT_EXTRUDE_21_REACH, mode=Mode.PRIVATE), bisect_by=cut_extrude_21_end, keep=Keep.BOTH, mode=Mode.PRIVATE)
    add(cut_extrude_21_tool1.solids().sort_by(Axis((0, 16.5, 15.692517), (1, 0, 0)))[0], mode=Mode.SUBTRACT)
    add(cut_extrude_21_tool2.solids().sort_by(Axis((0, 16.5, -15.327351), (1, 0, 0)))[0], mode=Mode.SUBTRACT)


solid = part.part
